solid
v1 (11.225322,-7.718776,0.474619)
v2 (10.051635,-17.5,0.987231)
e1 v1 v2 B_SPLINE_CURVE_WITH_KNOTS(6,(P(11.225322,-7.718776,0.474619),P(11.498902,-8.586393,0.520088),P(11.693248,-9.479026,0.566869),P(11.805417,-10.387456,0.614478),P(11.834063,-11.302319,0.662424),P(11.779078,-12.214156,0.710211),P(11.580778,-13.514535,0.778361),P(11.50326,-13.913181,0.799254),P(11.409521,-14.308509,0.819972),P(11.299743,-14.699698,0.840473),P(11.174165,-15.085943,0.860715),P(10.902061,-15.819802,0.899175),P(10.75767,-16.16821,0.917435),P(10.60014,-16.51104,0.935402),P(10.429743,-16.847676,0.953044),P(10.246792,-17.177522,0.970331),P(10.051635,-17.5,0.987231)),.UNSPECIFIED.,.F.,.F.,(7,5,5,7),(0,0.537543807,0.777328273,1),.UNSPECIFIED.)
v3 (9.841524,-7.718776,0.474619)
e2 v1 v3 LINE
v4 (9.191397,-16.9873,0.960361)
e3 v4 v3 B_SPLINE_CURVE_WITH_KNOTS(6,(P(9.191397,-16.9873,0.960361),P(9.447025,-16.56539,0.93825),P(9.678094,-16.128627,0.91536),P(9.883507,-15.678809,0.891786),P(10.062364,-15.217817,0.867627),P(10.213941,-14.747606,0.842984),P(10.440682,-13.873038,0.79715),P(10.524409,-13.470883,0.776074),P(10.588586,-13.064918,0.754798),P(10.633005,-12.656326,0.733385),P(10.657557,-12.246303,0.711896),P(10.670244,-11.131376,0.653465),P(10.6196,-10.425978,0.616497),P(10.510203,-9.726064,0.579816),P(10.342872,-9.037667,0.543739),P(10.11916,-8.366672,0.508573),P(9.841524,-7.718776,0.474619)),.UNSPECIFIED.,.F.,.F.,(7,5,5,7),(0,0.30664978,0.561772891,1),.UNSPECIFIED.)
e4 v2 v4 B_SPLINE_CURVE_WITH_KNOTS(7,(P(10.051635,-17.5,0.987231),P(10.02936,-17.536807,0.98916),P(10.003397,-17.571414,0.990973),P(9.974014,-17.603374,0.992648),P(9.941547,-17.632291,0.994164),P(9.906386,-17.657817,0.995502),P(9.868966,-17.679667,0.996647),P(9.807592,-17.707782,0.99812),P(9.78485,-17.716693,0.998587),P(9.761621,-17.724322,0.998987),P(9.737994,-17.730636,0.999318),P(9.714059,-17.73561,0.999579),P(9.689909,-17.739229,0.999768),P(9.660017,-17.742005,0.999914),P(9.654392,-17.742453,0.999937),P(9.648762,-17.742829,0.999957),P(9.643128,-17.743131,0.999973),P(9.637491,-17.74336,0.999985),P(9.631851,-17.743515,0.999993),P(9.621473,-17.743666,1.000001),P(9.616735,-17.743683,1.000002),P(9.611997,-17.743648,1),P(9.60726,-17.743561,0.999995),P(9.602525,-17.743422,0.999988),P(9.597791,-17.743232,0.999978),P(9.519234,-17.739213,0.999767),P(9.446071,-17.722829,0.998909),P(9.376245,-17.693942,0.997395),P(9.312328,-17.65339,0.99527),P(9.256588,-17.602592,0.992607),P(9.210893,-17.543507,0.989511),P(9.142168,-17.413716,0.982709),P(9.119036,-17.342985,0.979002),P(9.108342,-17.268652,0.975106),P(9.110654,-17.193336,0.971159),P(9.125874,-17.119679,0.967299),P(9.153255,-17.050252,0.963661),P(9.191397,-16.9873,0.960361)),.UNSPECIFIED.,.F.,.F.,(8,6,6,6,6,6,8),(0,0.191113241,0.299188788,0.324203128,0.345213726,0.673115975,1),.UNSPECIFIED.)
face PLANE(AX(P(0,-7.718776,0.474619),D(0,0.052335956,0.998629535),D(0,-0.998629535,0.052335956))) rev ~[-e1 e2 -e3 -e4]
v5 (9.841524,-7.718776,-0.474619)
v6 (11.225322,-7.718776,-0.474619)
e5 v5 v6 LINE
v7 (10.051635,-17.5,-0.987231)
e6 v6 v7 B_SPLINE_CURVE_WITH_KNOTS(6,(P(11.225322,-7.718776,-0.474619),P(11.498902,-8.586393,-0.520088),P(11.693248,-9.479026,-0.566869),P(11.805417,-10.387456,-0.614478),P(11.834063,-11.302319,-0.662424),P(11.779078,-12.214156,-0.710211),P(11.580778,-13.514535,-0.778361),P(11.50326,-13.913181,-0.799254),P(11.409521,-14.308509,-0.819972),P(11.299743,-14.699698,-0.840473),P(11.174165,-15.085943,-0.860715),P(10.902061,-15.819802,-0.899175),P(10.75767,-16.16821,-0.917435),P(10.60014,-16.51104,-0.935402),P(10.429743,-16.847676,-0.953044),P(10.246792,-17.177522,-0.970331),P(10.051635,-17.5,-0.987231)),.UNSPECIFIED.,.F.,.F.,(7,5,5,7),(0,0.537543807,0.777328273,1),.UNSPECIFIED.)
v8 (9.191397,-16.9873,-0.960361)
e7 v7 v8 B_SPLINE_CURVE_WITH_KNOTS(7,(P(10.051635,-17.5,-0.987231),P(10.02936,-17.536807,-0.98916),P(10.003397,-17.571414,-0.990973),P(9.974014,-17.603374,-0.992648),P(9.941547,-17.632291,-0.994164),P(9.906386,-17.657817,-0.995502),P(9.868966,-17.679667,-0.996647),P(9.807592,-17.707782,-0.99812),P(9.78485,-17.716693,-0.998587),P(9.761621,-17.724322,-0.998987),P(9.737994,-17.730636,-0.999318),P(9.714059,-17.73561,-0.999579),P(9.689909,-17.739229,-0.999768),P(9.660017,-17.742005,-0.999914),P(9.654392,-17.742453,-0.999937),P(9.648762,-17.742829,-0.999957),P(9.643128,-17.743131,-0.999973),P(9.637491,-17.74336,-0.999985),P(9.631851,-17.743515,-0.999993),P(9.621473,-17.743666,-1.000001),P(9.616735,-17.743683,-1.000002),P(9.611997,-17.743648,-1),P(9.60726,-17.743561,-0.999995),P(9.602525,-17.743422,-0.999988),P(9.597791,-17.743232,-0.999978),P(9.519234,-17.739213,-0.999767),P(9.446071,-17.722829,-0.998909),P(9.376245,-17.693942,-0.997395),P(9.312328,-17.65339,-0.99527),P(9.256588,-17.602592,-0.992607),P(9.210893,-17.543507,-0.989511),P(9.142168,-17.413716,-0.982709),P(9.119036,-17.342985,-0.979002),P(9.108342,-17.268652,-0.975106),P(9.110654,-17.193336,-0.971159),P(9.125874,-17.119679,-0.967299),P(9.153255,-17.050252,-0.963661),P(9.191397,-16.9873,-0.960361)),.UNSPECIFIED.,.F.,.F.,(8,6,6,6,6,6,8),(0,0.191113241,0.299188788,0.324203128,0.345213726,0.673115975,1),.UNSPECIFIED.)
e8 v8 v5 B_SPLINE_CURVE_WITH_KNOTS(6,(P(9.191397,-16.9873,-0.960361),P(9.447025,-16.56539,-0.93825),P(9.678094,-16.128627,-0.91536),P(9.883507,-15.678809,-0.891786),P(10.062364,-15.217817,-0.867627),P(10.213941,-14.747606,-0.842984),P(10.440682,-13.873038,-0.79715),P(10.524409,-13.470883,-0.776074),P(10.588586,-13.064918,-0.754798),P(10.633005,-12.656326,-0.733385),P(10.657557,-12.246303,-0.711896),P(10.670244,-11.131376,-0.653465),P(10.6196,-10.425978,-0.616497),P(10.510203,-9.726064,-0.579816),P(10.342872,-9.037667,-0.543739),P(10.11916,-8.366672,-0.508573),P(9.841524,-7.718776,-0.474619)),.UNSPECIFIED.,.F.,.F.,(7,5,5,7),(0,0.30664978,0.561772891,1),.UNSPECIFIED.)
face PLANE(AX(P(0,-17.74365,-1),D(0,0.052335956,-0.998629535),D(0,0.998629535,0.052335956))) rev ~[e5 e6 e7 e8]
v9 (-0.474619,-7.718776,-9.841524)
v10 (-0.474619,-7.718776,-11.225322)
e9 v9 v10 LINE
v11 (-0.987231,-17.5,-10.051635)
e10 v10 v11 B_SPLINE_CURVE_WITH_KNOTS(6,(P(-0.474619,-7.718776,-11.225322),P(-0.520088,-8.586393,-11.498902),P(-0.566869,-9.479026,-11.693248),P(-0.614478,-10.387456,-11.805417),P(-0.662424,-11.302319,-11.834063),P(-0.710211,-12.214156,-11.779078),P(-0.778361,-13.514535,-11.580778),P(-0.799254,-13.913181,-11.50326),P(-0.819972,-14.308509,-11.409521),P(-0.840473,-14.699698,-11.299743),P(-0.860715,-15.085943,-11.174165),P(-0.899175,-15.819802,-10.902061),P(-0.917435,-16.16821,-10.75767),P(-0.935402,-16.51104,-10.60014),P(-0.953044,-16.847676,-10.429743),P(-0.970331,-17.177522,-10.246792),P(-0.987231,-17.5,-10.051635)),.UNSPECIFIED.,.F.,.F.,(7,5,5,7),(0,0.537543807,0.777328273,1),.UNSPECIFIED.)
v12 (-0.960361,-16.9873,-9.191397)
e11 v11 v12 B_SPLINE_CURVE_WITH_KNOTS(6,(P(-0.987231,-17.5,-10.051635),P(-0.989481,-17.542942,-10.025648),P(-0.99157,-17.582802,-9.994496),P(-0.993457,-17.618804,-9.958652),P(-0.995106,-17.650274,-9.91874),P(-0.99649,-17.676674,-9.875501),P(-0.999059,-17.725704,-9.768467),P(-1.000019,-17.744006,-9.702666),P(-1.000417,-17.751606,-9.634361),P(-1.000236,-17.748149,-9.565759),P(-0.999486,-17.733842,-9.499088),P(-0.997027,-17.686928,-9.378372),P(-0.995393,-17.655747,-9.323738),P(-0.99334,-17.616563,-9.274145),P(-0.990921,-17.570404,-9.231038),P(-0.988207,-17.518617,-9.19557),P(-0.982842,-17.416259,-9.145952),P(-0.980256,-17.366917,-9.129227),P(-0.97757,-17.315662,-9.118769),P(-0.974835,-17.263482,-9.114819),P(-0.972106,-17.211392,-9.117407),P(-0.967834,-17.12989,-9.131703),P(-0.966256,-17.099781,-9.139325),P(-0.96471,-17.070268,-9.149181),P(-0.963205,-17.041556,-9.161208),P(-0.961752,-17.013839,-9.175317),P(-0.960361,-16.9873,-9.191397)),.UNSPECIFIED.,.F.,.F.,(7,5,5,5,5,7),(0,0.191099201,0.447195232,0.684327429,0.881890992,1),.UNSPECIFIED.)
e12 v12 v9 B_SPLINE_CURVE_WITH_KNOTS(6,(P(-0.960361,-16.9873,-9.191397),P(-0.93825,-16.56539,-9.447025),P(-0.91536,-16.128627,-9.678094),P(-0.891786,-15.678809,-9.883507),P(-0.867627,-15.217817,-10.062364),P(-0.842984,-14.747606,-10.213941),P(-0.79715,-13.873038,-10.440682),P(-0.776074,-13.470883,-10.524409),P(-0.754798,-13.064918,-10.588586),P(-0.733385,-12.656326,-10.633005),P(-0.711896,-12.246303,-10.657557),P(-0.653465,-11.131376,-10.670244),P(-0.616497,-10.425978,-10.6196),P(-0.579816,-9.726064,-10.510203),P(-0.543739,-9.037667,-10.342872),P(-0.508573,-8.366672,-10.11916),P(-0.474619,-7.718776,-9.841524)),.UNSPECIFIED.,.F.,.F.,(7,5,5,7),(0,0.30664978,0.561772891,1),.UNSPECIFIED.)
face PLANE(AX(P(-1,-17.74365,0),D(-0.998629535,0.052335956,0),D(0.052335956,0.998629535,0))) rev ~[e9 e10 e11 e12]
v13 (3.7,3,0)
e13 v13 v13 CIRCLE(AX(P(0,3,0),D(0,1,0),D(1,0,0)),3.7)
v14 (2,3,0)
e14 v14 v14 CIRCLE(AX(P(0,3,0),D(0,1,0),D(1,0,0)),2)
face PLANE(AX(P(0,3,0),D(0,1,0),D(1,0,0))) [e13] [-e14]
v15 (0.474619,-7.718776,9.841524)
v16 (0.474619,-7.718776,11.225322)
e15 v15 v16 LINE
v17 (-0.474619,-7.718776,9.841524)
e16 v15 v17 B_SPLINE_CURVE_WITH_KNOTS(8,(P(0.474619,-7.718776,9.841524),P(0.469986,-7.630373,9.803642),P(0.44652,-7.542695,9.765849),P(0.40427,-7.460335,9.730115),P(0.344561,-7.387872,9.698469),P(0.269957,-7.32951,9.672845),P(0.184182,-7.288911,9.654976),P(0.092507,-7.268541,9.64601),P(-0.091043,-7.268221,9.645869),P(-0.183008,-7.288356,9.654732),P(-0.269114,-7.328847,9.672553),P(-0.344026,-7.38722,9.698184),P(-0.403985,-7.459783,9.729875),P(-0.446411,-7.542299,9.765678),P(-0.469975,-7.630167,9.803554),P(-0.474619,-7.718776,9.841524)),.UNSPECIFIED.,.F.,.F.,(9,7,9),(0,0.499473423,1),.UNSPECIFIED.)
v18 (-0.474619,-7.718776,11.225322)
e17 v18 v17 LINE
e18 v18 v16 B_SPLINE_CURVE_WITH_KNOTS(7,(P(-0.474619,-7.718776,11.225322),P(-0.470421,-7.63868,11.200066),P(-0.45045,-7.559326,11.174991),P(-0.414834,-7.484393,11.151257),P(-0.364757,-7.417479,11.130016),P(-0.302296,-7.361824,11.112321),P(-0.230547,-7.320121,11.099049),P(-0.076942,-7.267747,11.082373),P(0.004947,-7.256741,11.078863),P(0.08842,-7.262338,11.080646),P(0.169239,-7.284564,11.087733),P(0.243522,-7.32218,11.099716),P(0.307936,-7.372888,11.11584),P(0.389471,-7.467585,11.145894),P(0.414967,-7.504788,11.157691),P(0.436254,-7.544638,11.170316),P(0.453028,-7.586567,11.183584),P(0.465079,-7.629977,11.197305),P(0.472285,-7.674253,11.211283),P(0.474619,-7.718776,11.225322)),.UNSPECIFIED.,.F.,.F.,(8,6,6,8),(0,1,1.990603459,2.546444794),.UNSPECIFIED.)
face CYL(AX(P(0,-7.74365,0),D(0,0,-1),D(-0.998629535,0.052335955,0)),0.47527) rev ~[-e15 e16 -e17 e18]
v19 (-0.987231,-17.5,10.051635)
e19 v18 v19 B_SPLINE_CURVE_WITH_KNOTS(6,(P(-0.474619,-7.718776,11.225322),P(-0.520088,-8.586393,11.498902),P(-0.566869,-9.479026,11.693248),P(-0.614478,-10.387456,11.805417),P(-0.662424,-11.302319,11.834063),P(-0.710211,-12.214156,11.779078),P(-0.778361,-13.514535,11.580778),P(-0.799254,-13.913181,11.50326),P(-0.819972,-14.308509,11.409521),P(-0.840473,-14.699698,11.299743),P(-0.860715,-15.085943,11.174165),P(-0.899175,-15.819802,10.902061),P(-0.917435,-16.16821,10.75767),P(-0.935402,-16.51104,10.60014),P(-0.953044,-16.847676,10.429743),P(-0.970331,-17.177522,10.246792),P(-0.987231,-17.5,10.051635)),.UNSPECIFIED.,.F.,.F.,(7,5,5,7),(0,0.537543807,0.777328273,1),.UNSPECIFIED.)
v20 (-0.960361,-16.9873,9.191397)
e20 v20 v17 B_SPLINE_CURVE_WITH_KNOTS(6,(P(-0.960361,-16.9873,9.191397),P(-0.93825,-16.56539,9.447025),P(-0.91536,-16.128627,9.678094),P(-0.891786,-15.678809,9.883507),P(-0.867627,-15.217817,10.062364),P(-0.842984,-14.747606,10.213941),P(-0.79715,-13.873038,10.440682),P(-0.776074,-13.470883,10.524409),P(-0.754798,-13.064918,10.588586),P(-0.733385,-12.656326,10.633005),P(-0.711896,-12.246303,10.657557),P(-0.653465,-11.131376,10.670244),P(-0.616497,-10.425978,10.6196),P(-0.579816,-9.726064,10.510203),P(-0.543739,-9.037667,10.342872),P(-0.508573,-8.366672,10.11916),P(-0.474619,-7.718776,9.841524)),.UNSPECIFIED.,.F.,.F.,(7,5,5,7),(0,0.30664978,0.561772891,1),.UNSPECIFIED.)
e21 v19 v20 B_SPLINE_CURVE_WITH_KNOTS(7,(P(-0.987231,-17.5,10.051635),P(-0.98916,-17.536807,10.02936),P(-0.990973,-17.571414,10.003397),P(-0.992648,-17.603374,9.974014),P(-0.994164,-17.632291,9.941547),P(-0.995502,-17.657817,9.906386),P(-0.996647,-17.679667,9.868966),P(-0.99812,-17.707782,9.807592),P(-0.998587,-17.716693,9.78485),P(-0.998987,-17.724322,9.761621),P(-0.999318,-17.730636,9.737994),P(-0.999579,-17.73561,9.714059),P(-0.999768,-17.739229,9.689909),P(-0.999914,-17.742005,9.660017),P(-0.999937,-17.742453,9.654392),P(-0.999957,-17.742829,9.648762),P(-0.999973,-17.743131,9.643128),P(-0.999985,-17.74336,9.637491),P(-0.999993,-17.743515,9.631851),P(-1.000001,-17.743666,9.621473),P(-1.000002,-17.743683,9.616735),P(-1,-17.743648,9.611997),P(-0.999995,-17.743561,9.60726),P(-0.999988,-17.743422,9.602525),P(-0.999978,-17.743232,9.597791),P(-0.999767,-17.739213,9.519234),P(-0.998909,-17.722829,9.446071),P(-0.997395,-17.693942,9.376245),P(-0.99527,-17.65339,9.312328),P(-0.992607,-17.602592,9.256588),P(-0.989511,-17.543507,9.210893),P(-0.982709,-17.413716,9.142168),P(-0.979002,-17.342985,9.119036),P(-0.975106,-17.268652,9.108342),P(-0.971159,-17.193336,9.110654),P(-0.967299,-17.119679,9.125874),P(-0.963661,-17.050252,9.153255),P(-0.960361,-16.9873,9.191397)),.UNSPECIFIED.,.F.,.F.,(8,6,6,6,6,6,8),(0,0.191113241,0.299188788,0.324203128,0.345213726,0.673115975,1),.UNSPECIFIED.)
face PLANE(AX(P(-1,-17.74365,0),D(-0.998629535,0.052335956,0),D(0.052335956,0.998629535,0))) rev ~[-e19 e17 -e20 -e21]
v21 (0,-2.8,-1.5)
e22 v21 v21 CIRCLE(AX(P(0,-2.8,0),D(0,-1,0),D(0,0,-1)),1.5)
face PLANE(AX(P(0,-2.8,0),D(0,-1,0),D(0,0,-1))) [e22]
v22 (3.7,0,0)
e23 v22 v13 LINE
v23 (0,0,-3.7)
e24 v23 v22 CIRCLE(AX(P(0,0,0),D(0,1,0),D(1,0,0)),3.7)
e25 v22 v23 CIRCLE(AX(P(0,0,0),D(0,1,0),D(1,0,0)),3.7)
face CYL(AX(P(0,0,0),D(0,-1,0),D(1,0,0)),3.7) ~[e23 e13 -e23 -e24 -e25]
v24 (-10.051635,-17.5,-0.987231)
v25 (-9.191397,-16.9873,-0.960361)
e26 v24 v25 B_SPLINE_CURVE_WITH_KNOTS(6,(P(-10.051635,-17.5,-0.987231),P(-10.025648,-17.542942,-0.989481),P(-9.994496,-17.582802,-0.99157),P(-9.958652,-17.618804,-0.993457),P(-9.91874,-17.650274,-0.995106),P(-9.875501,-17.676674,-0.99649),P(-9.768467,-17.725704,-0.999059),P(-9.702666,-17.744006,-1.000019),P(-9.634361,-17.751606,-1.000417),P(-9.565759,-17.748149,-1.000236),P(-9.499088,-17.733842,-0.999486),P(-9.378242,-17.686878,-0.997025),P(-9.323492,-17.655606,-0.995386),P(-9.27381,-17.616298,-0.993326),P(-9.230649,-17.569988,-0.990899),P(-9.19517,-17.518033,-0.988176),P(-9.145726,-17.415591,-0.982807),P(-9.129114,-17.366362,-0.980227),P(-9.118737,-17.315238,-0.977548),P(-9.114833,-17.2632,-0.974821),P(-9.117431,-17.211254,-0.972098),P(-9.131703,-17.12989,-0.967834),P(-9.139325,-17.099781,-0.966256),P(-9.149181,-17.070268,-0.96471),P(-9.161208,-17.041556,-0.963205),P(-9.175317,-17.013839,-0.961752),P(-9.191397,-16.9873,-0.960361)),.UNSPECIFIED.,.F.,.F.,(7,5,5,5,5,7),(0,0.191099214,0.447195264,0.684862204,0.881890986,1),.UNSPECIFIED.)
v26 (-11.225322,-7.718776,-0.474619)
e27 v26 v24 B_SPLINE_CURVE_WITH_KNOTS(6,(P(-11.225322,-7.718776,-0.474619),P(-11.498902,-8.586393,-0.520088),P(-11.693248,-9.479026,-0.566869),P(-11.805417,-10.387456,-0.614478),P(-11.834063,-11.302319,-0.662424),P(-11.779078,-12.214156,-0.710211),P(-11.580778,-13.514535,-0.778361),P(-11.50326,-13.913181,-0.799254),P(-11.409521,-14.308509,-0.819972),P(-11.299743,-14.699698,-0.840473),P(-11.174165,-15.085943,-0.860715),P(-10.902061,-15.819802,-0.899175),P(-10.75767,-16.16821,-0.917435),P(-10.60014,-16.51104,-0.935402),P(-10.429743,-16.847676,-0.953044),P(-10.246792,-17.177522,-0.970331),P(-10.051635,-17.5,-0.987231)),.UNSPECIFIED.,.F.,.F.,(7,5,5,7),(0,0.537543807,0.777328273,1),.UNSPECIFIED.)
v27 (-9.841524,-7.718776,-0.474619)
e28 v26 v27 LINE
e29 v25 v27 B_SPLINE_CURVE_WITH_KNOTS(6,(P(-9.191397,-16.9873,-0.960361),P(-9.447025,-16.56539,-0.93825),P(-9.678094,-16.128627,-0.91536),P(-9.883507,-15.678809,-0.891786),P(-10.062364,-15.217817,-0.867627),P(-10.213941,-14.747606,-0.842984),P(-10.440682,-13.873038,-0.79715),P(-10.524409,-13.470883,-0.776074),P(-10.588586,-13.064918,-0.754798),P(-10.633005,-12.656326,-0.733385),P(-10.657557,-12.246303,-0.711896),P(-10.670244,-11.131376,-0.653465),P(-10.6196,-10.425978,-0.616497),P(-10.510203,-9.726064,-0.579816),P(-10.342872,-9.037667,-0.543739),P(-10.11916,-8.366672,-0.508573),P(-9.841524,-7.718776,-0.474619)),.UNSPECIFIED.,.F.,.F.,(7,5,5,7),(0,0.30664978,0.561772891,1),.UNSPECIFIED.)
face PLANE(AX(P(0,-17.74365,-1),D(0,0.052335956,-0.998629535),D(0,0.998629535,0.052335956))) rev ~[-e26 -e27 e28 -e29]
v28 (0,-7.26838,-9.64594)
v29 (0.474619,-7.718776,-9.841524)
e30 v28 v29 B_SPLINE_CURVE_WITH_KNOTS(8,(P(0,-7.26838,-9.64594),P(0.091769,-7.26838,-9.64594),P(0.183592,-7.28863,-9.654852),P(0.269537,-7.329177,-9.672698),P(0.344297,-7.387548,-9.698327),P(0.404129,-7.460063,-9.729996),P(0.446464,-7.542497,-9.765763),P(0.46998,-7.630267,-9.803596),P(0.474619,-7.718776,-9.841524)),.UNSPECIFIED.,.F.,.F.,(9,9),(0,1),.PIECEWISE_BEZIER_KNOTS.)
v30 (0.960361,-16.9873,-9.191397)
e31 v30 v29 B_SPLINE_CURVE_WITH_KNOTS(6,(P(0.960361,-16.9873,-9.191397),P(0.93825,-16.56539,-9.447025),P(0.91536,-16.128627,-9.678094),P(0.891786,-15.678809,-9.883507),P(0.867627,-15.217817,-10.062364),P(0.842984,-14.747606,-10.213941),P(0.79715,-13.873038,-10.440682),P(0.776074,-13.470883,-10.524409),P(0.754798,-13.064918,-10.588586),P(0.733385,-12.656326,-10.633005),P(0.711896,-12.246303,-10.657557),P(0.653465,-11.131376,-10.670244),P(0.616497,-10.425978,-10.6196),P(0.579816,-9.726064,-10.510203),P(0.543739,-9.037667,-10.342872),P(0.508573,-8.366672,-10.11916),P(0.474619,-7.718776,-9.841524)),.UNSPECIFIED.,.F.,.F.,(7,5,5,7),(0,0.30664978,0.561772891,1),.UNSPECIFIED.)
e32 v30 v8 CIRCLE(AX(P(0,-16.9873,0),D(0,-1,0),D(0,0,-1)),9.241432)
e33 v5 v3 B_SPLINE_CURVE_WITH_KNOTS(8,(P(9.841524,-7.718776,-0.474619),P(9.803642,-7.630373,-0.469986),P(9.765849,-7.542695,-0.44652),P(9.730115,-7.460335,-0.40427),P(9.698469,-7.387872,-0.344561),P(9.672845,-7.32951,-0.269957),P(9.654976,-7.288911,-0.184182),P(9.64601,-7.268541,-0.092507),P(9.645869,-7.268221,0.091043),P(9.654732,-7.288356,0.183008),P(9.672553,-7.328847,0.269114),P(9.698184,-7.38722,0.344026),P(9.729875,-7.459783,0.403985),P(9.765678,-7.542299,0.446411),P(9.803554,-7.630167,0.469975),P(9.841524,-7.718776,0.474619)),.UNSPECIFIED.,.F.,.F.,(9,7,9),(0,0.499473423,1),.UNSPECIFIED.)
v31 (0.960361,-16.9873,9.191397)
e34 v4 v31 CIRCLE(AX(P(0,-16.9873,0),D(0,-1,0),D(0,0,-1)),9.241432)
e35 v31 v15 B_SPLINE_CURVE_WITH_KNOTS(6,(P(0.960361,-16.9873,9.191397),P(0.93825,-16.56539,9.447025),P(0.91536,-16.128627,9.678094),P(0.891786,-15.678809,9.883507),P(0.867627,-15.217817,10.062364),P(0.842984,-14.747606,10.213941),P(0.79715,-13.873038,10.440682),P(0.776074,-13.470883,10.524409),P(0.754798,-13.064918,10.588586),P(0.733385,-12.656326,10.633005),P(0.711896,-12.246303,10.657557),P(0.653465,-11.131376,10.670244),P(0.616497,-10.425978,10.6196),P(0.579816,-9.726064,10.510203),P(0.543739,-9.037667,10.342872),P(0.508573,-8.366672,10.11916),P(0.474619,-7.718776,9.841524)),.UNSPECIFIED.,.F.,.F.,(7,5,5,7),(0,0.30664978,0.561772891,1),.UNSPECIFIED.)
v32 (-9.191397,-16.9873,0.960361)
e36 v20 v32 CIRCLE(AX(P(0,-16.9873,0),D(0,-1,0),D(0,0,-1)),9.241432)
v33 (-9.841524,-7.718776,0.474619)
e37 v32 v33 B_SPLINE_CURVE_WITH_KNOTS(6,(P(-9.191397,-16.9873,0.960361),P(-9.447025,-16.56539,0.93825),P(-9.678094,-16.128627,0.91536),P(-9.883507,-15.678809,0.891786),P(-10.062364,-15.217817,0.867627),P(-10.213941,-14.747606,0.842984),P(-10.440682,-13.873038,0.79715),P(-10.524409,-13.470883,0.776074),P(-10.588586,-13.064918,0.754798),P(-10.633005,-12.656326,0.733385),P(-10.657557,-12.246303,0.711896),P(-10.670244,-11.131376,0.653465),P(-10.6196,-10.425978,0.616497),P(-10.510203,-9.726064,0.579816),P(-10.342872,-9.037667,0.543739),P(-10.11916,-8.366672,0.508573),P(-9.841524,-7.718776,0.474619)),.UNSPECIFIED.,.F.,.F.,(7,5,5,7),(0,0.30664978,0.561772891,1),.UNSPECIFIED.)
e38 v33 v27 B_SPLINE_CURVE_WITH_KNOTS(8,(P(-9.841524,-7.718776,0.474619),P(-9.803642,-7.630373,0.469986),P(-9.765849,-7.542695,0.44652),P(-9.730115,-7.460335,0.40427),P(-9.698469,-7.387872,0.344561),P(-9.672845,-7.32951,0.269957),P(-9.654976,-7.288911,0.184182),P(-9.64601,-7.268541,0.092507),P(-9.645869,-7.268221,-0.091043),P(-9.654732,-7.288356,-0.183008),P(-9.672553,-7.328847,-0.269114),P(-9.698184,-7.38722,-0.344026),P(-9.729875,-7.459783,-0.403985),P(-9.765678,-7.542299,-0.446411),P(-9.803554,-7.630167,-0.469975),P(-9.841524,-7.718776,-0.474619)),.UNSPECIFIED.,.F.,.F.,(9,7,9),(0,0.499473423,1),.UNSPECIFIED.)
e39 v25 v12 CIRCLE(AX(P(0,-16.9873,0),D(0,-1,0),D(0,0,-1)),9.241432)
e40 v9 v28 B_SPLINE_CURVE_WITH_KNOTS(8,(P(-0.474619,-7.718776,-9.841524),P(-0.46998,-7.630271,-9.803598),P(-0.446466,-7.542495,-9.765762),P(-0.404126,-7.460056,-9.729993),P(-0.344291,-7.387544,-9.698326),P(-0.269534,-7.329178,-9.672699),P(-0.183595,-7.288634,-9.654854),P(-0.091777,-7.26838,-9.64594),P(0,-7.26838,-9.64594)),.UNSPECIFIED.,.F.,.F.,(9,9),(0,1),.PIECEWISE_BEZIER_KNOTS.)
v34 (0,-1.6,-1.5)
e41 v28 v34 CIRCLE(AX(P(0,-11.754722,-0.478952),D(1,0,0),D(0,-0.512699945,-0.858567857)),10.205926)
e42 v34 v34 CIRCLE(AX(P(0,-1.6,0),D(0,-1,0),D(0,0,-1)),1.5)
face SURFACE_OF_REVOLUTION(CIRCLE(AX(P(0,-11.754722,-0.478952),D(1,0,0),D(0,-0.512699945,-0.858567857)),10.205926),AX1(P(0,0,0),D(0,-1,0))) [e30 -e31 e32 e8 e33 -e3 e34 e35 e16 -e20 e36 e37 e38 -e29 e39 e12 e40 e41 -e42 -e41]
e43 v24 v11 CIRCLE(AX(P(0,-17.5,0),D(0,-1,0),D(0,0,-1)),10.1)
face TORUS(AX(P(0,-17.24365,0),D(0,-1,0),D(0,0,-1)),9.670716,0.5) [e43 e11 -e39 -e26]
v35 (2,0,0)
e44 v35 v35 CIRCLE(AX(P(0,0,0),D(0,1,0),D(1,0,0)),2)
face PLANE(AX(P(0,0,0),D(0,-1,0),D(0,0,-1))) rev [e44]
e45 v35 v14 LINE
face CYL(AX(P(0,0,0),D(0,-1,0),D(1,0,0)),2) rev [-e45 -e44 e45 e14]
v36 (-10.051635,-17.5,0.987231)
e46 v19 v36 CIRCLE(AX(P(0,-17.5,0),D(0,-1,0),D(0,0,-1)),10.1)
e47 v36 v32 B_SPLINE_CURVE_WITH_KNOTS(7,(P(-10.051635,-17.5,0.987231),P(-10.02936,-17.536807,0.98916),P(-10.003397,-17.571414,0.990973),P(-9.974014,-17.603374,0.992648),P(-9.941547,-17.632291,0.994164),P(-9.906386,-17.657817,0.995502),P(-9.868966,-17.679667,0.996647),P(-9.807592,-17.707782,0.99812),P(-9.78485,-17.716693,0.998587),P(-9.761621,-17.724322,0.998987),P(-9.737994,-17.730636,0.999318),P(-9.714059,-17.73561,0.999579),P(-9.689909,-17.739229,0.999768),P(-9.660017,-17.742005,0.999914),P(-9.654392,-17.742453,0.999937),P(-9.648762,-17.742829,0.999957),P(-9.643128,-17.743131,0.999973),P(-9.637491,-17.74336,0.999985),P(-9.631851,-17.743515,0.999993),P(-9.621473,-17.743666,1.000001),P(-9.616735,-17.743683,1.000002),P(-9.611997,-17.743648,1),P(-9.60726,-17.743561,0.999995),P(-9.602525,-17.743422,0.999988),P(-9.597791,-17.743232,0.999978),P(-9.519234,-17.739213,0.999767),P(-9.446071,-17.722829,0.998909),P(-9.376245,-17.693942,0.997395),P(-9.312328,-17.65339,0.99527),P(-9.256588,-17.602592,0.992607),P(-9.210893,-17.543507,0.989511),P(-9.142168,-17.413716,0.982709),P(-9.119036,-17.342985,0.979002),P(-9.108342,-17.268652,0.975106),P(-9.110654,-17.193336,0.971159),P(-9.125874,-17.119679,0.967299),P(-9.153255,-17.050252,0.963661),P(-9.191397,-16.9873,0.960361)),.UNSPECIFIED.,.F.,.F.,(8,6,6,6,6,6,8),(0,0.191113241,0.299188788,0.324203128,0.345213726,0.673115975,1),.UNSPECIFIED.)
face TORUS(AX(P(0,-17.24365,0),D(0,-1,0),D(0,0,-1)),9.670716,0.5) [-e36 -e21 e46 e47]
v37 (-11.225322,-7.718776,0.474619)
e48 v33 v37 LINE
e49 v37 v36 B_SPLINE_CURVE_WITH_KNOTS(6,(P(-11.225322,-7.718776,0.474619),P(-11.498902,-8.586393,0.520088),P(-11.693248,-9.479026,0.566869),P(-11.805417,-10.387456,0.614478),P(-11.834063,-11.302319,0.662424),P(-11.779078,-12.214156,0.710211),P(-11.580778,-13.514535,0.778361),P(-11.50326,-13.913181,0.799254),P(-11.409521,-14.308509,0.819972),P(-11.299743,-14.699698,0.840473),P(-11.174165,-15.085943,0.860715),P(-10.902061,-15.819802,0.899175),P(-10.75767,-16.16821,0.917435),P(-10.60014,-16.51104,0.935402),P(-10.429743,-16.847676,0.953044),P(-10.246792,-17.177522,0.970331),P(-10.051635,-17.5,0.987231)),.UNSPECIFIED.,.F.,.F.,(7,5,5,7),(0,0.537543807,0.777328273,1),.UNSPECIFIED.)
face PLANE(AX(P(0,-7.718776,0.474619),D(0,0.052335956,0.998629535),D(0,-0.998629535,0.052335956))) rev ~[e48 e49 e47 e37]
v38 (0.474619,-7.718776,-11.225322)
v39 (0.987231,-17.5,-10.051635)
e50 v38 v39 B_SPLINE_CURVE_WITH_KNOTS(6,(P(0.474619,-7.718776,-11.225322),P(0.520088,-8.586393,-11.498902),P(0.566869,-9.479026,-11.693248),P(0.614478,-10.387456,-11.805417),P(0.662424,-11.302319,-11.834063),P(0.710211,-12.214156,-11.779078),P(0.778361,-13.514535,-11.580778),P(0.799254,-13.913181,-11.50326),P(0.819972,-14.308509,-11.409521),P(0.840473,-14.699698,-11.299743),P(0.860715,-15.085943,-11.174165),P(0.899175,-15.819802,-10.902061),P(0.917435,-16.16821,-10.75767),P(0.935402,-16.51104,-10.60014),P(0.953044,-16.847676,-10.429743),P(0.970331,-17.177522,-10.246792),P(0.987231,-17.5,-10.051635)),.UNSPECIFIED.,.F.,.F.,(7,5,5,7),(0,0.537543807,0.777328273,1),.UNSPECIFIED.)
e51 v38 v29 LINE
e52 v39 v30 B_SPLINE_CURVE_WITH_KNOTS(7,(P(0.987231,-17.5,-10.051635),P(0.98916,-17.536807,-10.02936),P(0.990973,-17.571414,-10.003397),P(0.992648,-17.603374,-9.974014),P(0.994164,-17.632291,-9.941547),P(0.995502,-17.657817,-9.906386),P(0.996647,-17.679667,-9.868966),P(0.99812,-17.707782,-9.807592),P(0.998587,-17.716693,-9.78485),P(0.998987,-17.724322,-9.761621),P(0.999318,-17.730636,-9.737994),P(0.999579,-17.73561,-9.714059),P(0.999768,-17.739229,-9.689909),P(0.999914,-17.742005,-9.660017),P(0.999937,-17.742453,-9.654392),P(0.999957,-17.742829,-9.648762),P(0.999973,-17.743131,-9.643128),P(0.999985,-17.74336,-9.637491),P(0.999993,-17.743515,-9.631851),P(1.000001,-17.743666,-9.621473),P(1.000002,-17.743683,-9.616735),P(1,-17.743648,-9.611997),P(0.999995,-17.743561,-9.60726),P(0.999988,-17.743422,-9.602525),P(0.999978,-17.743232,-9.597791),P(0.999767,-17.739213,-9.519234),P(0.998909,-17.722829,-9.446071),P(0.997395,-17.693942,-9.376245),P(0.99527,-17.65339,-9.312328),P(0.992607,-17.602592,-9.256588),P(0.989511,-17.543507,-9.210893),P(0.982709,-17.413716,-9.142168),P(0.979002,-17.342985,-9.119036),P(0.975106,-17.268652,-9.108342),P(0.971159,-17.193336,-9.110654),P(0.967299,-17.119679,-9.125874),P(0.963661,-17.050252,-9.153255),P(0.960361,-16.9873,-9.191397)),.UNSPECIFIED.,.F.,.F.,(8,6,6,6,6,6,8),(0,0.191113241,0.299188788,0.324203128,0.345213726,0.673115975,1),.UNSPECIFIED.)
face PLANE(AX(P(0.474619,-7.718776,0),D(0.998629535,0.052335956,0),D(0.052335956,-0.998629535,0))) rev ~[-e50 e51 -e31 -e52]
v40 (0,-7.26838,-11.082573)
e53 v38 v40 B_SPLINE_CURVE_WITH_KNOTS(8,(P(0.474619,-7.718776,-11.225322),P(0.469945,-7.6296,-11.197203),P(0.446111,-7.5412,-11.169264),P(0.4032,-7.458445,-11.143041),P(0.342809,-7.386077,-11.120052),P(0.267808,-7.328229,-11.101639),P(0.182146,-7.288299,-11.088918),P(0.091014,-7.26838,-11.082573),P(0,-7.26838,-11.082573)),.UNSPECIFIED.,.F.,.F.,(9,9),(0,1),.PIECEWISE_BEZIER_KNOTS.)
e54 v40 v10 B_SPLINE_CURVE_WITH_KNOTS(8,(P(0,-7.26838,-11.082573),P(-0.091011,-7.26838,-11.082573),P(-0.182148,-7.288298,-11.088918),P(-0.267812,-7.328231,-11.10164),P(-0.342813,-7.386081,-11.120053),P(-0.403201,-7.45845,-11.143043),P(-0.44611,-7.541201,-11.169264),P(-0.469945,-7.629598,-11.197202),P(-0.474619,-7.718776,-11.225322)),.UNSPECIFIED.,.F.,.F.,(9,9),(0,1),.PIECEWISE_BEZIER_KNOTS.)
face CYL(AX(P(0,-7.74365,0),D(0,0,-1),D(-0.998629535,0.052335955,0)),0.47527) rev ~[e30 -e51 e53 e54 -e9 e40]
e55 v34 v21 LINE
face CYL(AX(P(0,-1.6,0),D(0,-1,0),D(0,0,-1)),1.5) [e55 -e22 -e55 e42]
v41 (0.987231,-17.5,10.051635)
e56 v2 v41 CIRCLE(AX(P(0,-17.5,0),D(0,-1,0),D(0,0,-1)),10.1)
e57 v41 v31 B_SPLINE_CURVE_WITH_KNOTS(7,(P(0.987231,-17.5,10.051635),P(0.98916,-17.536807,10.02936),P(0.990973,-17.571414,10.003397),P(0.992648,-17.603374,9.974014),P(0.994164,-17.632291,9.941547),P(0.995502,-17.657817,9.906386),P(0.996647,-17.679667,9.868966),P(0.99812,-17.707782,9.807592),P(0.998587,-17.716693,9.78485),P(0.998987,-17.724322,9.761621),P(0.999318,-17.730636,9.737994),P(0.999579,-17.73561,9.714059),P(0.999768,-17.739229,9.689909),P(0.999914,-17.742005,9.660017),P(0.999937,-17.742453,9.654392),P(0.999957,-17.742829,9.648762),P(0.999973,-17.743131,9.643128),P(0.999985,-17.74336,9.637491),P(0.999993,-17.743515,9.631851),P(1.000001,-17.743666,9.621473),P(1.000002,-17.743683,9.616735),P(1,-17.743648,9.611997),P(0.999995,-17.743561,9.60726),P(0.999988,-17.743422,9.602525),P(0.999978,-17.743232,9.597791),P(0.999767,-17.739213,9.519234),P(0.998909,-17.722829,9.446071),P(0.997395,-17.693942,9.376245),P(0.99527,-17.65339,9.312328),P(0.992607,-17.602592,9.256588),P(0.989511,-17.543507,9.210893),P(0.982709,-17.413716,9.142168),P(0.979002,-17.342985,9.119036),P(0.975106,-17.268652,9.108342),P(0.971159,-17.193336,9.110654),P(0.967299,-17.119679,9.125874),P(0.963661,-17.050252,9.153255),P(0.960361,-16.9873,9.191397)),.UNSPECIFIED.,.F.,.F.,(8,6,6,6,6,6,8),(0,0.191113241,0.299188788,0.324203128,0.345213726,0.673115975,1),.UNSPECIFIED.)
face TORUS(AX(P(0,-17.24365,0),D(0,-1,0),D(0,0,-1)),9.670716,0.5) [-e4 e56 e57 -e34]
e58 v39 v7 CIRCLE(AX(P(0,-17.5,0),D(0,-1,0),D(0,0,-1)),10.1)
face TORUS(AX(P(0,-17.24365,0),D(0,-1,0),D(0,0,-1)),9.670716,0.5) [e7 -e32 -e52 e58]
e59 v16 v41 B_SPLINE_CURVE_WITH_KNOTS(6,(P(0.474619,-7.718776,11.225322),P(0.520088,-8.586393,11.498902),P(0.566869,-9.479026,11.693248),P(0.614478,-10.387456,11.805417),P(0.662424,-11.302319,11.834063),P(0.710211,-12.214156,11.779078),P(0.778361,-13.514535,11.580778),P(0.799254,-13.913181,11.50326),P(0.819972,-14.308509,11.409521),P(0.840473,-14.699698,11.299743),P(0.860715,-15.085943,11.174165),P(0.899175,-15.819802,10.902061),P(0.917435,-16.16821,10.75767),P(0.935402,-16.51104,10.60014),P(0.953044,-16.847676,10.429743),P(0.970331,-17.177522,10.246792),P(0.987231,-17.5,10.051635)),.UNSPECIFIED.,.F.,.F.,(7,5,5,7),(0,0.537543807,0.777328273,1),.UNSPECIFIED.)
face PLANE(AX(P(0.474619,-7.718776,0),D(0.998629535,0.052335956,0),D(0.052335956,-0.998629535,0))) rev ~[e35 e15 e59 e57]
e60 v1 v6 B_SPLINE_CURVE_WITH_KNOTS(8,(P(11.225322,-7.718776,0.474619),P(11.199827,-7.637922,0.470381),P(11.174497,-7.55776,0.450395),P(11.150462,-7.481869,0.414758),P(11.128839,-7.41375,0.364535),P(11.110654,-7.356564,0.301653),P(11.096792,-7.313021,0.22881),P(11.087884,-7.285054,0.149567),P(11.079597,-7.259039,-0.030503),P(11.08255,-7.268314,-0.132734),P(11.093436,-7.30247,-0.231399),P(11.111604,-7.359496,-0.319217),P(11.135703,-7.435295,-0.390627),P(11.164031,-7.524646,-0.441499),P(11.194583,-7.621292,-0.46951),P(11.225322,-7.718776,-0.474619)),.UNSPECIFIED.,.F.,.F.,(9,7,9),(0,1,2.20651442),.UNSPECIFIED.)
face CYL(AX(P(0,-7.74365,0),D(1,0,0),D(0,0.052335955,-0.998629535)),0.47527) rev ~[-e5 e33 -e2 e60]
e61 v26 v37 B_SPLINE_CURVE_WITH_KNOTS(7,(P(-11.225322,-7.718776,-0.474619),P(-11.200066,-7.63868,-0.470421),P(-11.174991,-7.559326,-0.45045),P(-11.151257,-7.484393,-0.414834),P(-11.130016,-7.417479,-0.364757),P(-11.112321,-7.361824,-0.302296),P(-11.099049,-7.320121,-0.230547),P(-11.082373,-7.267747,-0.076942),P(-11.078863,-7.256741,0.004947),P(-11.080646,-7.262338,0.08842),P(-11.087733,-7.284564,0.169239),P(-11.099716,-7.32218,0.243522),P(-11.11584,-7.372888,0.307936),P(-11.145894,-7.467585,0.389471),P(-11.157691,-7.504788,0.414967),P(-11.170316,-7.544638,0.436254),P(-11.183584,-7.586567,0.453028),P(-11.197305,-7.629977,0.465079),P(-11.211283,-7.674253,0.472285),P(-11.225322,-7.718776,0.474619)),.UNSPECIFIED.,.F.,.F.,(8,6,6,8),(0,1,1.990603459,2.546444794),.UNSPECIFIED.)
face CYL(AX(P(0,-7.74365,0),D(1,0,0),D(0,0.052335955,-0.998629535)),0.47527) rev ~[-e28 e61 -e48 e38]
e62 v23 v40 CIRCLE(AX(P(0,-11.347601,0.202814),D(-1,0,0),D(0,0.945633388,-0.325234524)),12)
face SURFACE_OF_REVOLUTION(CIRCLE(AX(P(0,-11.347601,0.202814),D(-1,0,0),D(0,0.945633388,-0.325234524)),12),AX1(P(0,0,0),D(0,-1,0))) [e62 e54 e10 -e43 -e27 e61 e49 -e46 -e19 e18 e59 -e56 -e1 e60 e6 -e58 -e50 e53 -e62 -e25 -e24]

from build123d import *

# Parameters (mm, degrees)
SKETCH1_R           = 3.7
SKETCH1_R_2         = 2
BOSS_EXTRUDE1_DEPTH = 3
CUT_EXTRUDE1_DEPTH  = 12.79718581
CIRPATTERN1_COUNT   = 4


with BuildPart() as part:
    # Sketch1 → Boss-Extrude1 (new body)
    with BuildSketch(Plane(origin=(0, 0, 0), x_dir=(1, 0, 0), z_dir=(0, 1, 0))):
        Circle(SKETCH1_R)
        Circle(SKETCH1_R_2, mode=Mode.SUBTRACT)
    extrude(amount=BOSS_EXTRUDE1_DEPTH)

    # Sketch2 → Revolve1 (revolve)
    with BuildSketch(Plane(origin=(0, 0, 0), x_dir=(0, 0, -1), z_dir=(1, 0, 0))):
        with BuildLine():
            Line((0, 0), (3.7, 0))
            ThreePointArc((3.7, 0), (11.06716667, -7.226007618), (10.1, -17.5))
            ThreePointArc((10.1, -17.5), (9.414366099, -17.672933956), (9.241432142, -16.987300055))
            ThreePointArc((9.241432142, -16.987300055), (9.596057225, -7.167858517), (1.5, -1.6))
            Line((1.5, -1.6), (1.5, -2.8))
            Line((1.5, -2.8), (0, -2.8))
            Line((0, -2.8), (0, 0))
        make_face()
    revolve(axis=Axis((0, 0, 0), (0, -1, 0)))

    # Sketch3 → Cut-Extrude1 (cut, symmetric)
    with BuildSketch(Plane(origin=(0, 0, 0), x_dir=(0, 0, -1), z_dir=(1, 0, 0))):
        with BuildLine():
            Line((-1, -17.743650027), (1, -17.743650027))
            Line((1, -17.743650027), (0.474618631, -7.718776319))
            ThreePointArc((0.474618631, -7.718776319), (0, -7.268380055), (-0.474618631, -7.718776319))
            Line((-0.474618631, -7.718776319), (-1, -17.743650027))
        make_face()
    cut_extrude1 = extrude(amount=CUT_EXTRUDE1_DEPTH, both=True, mode=Mode.SUBTRACT)

    # CirPattern1: Cut-Extrude1 ×4 about axis
    cirpattern1_axis = Axis((0, 0, 0), (0, 1, 0))
    for i in range(1, CIRPATTERN1_COUNT):
        add(cut_extrude1.rotate(cirpattern1_axis, i * 360 / CIRPATTERN1_COUNT), mode=Mode.SUBTRACT)


solid = part.part
